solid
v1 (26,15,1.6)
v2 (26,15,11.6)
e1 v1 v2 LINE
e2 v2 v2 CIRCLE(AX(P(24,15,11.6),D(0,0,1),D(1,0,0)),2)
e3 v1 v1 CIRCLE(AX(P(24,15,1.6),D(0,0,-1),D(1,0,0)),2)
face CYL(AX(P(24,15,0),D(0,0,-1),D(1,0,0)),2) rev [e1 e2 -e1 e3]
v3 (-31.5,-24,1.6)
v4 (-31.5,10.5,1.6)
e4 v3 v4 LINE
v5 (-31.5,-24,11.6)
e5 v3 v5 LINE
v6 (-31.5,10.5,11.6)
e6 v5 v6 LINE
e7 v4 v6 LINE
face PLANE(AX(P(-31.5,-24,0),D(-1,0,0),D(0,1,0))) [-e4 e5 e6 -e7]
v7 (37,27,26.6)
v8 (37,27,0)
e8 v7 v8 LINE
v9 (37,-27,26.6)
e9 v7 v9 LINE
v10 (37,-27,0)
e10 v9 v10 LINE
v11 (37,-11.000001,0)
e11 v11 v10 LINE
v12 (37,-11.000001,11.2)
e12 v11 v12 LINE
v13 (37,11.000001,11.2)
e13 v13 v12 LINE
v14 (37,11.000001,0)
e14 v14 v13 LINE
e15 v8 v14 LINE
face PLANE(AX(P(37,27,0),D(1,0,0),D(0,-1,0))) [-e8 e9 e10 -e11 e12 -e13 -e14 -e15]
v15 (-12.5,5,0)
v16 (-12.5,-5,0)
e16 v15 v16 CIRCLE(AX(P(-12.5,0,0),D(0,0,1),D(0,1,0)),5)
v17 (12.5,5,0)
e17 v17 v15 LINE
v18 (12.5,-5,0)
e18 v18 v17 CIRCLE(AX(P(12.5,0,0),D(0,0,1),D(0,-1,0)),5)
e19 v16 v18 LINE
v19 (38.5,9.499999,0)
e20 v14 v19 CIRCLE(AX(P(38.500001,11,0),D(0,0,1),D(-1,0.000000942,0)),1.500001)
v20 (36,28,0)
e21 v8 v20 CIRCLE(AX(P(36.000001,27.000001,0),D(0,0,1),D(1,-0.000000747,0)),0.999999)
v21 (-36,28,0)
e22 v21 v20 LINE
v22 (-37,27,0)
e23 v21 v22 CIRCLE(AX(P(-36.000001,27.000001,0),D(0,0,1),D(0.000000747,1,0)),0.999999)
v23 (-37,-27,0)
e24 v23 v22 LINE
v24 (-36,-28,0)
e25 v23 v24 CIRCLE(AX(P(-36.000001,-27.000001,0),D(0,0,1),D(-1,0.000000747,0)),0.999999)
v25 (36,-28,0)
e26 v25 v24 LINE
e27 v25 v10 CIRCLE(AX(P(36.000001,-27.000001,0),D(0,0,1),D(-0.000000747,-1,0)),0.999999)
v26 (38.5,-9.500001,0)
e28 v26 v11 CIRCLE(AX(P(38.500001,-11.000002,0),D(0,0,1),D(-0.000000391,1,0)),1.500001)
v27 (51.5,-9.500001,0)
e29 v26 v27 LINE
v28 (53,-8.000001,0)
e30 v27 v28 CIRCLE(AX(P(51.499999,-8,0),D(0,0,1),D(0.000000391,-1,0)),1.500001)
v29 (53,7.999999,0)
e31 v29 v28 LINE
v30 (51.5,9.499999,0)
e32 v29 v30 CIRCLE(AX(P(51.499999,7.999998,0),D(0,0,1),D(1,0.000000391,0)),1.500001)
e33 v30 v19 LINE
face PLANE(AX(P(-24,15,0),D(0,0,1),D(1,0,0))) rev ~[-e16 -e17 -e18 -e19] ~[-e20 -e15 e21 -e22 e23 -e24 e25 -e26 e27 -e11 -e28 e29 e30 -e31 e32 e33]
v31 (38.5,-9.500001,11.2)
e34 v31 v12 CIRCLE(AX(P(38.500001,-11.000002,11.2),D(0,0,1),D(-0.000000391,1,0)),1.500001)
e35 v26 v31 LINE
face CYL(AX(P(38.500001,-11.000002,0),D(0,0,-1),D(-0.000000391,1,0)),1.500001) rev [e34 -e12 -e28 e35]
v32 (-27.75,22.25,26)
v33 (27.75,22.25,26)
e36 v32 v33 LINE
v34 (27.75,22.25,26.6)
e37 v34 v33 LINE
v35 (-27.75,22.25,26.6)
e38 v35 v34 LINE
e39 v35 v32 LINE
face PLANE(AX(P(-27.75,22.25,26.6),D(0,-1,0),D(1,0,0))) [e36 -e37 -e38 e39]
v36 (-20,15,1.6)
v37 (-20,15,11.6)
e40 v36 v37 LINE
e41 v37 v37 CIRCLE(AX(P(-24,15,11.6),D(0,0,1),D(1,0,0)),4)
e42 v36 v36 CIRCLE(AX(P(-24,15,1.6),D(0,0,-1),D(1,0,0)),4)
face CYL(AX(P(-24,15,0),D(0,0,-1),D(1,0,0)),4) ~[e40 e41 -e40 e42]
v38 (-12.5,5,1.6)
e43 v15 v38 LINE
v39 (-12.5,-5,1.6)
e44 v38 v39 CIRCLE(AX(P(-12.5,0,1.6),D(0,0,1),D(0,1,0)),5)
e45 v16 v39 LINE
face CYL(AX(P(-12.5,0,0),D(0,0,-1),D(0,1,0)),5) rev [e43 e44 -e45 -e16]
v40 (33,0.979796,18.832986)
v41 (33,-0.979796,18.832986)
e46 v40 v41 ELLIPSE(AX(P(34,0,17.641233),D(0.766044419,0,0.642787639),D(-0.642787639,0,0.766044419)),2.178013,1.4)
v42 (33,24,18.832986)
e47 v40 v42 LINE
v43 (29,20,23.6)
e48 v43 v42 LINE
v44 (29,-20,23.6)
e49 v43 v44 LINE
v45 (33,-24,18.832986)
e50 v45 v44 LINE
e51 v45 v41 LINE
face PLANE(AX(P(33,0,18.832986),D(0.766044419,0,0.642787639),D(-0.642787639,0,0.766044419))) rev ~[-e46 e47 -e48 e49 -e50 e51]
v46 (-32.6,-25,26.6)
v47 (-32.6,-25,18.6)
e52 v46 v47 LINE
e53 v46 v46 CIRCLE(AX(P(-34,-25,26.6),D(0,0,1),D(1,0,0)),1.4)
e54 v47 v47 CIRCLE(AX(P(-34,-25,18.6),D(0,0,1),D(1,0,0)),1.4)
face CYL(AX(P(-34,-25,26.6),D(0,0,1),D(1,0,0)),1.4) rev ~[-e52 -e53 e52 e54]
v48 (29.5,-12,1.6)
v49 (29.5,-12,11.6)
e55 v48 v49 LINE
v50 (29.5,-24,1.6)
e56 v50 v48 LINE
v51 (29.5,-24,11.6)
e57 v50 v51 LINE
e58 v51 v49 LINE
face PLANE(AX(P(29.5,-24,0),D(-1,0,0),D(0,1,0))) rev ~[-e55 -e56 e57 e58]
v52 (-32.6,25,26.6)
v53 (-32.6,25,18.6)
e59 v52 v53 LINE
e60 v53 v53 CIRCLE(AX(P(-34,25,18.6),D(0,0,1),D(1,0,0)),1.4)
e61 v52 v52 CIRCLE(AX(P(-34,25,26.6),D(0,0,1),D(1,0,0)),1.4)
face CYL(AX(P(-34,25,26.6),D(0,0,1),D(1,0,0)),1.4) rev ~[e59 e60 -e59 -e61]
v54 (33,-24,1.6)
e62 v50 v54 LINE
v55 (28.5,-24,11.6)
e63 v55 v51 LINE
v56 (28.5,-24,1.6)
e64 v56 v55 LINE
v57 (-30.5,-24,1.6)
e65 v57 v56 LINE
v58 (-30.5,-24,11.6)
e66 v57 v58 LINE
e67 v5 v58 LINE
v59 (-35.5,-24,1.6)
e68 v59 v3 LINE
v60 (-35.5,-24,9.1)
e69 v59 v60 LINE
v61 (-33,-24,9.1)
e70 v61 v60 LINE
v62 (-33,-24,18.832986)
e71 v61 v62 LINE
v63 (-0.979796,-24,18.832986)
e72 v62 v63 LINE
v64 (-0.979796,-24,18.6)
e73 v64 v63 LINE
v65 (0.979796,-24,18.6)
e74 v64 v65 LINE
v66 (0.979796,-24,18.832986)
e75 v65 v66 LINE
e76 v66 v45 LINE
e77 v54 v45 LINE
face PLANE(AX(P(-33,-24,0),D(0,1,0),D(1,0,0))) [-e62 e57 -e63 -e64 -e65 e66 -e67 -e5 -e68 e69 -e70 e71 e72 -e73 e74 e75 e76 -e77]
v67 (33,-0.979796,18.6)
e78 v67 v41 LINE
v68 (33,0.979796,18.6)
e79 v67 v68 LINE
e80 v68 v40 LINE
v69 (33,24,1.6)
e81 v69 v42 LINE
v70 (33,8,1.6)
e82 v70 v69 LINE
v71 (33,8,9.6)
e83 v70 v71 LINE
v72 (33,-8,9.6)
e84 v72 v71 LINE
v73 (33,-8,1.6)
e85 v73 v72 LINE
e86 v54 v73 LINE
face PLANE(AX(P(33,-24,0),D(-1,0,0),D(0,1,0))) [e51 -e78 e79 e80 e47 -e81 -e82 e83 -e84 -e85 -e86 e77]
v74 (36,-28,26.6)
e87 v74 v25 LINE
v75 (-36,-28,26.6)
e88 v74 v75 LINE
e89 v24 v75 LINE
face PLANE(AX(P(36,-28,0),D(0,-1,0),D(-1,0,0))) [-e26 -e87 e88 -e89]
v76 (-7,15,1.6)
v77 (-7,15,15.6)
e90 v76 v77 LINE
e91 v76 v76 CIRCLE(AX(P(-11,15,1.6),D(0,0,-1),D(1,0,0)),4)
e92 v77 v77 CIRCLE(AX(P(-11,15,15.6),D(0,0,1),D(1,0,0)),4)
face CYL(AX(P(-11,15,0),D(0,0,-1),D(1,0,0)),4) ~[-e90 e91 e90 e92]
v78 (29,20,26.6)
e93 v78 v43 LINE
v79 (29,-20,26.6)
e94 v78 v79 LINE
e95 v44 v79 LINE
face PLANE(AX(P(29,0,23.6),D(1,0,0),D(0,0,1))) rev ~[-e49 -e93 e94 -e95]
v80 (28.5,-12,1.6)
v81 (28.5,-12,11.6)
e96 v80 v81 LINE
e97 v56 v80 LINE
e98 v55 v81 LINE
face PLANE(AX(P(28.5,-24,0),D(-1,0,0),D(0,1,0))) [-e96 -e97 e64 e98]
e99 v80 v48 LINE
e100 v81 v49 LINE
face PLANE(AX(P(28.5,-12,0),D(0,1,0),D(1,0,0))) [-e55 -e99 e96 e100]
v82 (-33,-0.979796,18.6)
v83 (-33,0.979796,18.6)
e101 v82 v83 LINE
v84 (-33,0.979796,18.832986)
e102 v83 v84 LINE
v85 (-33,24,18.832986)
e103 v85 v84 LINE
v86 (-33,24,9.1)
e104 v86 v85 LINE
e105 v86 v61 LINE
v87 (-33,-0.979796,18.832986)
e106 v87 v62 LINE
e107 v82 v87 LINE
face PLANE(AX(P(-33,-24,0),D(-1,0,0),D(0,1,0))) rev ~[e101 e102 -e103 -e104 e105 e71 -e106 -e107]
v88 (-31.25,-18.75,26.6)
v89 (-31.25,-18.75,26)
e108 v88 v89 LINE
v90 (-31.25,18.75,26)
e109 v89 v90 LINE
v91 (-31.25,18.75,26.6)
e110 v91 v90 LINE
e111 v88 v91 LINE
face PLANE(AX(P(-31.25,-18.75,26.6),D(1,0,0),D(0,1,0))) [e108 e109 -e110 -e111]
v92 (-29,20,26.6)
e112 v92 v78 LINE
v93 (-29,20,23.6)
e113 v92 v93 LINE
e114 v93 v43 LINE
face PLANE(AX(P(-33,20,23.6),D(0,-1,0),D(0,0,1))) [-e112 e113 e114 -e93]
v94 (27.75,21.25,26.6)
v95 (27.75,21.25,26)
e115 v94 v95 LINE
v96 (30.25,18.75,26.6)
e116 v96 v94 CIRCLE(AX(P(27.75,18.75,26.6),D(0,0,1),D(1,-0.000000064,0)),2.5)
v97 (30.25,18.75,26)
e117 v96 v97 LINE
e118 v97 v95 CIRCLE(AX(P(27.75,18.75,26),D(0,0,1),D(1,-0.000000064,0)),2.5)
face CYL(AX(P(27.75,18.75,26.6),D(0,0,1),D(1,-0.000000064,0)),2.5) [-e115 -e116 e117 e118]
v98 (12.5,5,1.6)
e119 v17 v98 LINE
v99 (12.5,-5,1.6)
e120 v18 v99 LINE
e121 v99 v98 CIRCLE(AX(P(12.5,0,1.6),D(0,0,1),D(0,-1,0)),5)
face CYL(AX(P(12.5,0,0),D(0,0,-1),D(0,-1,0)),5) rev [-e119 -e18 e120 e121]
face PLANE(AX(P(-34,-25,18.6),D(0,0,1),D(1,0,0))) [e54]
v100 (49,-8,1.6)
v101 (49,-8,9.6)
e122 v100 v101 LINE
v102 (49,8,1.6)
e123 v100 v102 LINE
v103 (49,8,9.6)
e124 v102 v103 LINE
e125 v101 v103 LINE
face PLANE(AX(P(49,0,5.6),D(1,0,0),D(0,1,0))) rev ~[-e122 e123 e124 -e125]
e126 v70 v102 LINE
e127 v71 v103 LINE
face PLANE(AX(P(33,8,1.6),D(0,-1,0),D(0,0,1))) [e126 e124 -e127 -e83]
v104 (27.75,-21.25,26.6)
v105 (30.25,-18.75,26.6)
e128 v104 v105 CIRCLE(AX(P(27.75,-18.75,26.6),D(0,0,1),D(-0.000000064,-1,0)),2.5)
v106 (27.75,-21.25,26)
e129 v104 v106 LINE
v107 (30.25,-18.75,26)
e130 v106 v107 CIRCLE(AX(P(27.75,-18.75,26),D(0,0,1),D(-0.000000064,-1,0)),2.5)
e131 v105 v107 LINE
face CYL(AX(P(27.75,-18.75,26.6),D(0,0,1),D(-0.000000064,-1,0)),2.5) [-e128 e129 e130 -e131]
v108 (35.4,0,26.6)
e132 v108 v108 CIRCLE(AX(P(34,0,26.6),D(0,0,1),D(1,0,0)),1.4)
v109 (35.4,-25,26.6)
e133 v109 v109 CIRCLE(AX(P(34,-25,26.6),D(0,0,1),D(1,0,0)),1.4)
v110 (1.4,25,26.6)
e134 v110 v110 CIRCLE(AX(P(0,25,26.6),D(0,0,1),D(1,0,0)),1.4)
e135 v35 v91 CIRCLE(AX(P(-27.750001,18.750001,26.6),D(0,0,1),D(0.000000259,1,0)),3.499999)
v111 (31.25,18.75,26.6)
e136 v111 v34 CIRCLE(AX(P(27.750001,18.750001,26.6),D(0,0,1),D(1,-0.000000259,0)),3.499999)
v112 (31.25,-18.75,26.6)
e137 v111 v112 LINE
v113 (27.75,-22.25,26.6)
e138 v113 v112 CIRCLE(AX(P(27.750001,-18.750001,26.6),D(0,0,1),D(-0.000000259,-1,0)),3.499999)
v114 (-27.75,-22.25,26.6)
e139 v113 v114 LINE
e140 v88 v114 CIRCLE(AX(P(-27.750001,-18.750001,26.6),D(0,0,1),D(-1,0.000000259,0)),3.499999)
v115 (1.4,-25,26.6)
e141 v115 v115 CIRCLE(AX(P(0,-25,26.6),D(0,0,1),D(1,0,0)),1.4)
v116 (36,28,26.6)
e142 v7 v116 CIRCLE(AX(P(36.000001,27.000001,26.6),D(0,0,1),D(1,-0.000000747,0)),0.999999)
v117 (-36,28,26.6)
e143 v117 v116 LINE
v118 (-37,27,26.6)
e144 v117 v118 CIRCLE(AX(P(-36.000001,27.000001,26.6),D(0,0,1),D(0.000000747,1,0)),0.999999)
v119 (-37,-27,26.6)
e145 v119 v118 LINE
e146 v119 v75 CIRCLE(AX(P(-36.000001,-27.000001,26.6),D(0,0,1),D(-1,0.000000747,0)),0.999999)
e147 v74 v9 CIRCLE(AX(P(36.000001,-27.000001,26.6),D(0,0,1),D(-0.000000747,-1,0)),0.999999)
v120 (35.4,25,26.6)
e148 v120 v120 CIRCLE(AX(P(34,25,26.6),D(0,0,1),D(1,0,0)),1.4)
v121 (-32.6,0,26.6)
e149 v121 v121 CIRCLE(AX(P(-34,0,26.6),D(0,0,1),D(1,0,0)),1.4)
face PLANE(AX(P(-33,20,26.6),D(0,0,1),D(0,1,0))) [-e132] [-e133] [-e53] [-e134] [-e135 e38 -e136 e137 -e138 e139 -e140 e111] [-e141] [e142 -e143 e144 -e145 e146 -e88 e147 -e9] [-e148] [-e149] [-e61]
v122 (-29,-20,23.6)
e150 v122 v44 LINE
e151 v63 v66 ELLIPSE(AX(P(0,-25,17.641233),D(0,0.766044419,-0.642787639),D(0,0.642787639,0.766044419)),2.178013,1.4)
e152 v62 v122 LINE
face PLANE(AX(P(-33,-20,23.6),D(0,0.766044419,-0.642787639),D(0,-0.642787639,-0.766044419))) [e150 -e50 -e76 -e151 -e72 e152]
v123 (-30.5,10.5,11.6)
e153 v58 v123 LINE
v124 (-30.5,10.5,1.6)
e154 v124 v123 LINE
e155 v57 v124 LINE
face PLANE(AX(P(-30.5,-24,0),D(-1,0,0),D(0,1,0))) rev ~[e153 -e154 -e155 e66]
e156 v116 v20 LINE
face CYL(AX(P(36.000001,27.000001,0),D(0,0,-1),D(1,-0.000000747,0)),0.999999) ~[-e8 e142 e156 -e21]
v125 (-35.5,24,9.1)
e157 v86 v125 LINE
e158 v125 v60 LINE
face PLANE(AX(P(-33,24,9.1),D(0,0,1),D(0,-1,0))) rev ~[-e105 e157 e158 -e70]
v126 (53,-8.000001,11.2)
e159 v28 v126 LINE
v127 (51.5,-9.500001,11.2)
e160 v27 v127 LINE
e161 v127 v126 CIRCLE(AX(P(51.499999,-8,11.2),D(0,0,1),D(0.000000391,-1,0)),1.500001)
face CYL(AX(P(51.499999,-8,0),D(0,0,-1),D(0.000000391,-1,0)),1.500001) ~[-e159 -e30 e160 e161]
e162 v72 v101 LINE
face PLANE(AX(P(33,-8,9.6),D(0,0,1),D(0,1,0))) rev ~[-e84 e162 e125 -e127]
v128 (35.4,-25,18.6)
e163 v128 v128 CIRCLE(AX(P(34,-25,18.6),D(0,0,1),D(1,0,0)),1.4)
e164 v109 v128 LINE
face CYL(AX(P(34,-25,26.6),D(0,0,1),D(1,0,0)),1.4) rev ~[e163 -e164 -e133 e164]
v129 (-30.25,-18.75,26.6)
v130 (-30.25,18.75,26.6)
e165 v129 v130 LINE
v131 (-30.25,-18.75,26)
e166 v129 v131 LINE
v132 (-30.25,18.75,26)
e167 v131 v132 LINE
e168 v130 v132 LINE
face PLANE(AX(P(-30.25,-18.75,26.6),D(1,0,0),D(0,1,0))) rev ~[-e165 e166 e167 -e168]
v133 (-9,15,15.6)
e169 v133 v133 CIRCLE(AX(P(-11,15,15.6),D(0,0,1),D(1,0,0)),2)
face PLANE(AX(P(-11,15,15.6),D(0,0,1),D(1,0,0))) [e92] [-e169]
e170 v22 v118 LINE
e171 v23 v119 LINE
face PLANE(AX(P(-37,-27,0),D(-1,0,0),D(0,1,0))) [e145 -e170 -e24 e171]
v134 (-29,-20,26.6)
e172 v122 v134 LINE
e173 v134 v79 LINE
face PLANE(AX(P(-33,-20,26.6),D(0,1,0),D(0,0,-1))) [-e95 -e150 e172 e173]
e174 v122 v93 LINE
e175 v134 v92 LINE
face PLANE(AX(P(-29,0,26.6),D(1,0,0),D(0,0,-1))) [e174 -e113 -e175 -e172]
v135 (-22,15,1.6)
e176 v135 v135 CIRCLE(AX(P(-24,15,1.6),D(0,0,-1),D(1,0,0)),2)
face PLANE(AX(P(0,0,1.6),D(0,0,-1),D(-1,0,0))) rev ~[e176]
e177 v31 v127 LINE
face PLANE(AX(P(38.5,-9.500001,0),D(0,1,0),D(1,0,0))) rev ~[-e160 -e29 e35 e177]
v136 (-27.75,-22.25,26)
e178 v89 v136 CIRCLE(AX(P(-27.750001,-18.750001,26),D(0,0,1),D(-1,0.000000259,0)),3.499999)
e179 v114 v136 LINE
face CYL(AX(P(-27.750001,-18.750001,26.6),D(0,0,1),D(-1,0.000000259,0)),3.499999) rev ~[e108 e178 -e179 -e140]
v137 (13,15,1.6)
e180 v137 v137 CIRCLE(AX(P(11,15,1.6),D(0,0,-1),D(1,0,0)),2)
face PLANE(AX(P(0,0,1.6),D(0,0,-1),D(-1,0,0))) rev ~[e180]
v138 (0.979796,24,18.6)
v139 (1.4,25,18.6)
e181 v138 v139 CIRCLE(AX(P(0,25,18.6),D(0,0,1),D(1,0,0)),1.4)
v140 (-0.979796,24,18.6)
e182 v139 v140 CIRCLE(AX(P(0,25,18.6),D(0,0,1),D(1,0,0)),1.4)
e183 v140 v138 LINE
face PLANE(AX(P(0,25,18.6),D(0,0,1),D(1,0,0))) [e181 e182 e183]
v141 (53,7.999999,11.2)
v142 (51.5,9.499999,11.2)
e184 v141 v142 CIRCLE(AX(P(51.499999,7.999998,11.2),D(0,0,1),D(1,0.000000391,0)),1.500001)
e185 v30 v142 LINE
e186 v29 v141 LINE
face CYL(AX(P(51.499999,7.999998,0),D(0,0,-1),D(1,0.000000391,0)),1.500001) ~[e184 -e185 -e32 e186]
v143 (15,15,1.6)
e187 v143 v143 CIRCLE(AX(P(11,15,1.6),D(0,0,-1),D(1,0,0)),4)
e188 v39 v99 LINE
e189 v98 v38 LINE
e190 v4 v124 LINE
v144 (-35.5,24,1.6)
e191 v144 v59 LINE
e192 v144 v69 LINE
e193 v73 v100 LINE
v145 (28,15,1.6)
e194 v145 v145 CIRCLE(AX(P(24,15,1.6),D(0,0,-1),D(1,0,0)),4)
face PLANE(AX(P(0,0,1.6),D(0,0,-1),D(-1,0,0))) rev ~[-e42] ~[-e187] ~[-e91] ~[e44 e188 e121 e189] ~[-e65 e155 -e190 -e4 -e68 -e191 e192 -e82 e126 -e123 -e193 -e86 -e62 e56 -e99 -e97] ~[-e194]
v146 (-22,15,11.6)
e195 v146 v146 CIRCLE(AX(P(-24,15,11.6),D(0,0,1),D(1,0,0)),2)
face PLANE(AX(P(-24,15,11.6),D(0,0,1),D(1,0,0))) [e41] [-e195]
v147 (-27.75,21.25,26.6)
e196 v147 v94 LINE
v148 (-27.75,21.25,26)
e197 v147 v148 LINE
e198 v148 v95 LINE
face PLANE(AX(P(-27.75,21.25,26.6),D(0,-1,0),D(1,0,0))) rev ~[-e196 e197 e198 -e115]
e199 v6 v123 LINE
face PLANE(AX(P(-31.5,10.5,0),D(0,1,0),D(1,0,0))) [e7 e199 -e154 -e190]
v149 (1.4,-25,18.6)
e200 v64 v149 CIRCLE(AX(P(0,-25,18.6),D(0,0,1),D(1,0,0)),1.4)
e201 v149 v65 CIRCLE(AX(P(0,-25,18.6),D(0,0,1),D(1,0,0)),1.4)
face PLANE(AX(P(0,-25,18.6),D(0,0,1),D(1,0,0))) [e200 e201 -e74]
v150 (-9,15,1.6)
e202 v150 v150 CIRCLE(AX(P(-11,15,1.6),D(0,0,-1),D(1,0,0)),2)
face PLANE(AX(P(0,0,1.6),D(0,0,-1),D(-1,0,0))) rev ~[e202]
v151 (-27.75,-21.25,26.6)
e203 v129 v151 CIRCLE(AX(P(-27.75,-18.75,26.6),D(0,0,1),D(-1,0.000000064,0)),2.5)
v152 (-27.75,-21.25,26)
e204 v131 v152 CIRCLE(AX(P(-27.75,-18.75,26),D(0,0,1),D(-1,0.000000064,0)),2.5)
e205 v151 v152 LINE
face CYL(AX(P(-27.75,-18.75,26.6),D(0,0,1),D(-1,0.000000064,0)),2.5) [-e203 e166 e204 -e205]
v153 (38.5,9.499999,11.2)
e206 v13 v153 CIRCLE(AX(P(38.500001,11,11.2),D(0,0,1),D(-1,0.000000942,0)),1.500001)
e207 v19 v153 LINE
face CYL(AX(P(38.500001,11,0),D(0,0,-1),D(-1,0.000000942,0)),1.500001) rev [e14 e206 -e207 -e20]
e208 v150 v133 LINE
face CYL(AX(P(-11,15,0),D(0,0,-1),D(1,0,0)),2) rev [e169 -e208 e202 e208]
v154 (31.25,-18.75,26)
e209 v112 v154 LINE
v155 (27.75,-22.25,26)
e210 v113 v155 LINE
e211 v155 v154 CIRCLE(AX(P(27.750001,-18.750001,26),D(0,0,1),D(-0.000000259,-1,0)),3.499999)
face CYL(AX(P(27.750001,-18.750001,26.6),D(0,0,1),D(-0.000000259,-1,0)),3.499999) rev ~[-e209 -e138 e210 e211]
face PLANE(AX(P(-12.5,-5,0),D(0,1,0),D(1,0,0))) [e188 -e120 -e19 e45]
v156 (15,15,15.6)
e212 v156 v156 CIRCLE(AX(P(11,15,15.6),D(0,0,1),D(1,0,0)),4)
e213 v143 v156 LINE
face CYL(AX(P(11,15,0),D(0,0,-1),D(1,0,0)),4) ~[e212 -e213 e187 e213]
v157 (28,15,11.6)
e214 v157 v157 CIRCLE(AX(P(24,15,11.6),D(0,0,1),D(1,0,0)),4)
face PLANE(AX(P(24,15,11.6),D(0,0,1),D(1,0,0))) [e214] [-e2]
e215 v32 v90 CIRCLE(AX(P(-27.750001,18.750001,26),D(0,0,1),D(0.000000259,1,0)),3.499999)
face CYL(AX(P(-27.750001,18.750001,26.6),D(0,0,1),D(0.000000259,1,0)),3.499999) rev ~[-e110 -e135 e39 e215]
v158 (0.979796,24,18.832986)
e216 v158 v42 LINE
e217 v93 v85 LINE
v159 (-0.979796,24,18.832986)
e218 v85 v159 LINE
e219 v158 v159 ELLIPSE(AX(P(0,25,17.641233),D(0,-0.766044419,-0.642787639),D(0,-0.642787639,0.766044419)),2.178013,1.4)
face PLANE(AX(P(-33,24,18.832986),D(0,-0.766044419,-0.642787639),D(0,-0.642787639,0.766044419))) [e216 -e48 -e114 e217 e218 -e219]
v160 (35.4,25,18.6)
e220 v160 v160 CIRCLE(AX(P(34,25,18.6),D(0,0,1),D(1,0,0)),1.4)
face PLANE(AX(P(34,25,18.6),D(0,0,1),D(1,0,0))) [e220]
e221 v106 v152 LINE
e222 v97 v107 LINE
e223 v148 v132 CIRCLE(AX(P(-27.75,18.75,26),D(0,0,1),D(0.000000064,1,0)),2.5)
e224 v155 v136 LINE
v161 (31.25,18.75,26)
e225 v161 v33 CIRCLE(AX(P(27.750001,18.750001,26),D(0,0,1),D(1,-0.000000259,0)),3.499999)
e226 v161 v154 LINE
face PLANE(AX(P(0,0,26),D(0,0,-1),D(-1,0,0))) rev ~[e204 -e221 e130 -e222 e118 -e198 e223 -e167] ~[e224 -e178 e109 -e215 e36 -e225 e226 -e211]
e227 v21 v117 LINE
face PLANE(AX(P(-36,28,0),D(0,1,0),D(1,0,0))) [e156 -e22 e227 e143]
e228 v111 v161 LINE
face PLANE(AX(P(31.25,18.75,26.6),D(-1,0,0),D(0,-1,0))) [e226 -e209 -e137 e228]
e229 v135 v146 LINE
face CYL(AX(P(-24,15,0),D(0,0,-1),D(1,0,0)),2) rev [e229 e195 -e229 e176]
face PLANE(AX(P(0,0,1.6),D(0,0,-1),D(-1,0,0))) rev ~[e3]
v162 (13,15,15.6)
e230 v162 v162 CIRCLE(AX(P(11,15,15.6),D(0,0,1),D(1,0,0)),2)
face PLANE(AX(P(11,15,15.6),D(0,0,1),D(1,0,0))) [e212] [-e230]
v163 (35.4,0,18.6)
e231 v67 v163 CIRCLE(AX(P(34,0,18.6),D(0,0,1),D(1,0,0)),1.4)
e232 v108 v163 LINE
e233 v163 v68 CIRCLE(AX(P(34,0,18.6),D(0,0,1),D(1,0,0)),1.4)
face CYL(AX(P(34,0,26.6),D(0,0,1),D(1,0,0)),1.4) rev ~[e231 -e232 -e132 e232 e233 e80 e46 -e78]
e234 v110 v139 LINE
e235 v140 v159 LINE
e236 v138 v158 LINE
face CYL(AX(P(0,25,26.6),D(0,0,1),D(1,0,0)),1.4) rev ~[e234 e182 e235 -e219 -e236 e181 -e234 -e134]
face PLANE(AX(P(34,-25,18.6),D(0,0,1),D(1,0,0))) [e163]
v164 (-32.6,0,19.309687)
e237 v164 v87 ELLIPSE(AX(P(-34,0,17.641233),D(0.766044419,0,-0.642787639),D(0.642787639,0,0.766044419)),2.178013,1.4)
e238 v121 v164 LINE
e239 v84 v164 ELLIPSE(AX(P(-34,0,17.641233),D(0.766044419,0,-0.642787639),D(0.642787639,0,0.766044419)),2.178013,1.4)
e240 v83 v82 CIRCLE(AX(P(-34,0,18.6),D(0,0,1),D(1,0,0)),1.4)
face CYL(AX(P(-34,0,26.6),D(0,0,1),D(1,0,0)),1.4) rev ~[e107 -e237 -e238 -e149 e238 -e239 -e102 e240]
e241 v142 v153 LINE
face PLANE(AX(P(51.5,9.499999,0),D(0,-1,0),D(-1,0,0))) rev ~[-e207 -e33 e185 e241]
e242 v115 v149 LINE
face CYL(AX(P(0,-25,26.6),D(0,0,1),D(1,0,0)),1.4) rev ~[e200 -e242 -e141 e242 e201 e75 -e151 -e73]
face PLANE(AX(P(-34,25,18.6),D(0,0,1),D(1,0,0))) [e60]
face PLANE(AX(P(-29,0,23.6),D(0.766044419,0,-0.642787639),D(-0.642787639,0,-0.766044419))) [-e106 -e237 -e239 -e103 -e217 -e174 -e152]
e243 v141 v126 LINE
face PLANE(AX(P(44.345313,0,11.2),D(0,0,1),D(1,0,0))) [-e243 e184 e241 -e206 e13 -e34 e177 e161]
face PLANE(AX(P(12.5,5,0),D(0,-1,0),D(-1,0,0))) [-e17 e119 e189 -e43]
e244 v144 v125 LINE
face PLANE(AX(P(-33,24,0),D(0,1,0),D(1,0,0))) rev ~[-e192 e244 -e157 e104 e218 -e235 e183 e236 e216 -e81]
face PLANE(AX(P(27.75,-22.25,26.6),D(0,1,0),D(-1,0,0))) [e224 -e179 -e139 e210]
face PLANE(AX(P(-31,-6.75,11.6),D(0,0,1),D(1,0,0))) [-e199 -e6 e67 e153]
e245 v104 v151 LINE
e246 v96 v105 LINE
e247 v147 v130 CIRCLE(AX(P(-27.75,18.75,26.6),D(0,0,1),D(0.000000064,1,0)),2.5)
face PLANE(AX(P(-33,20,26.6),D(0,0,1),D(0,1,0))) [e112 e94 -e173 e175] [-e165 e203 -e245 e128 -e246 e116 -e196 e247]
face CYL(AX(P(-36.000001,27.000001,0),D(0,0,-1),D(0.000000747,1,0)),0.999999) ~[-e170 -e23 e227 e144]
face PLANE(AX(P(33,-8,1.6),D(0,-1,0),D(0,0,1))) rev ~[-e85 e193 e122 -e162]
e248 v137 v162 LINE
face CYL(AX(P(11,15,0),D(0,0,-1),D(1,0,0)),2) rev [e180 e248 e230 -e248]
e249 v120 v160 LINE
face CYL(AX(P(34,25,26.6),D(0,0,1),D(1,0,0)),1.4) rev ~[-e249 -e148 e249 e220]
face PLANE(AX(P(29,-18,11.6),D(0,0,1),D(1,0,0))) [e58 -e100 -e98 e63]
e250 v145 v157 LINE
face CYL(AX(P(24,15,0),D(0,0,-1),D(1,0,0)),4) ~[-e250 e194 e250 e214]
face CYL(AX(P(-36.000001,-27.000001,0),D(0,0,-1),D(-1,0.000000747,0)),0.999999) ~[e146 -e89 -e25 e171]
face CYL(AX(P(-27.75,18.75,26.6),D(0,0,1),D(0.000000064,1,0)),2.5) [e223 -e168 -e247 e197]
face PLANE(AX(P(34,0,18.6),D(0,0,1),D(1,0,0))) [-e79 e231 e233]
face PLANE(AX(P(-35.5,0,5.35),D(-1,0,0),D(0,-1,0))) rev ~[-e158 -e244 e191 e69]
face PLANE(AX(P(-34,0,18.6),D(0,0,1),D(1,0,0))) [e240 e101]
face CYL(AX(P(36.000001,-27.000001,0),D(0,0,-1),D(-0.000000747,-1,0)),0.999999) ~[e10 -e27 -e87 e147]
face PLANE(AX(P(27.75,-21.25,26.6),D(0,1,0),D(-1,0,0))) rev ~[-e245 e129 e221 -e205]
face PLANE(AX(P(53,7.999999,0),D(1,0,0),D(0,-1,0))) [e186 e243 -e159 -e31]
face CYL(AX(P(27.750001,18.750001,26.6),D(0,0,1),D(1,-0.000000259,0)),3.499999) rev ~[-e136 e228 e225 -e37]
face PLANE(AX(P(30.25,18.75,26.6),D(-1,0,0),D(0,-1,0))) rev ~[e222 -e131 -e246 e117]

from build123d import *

# Parameters (mm, degrees)
PAD_DEPTH       = 1.6
SKETCH001_W     = 66
SKETCH001_H     = 48
PAD001_DEPTH    = 26.6
PAD002_DEPTH    = 11.2
SKETCH003_W     = 16
SKETCH003_H     = 8
POCKET_DEPTH    = 16
SKETCH005_R     = 4
SKETCH005_R_2   = 2
PAD003_DEPTH    = 15.6
SKETCH006_W     = 1
SKETCH006_H     = 34.5
SKETCH006_H_2   = 12
PAD004_DEPTH    = 11.6
SKETCH007_R     = 4
SKETCH007_R_2   = 2
PAD005_DEPTH    = 11.6
PAD006_DEPTH    = 24
PAD007_DEPTH    = 66
POCKET002_DEPTH = 0.6
SKETCH018_W     = 48
SKETCH018_H     = 7.5
POCKET003_DEPTH = 2.5
SKETCH008_R     = 1.4
POCKET004_DEPTH = 8


with BuildPart() as part:
    # Sketch → Pad (new body)
    with BuildSketch(Plane.XY):
        with BuildLine():
            Line((-36, 28), (36, 28))
            ThreePointArc((37, 27), (36.707107, 27.707107), (36, 28))
            Line((37, 27), (37, -27))
            ThreePointArc((36, -28), (36.707107, -27.707107), (37, -27))
            Line((36, -28), (-36, -28))
            ThreePointArc((-37, -27), (-36.707107, -27.707107), (-36, -28))
            Line((-37, -27), (-37, 27))
            ThreePointArc((-36, 28), (-36.707107, 27.707107), (-37, 27))
        make_face()
        with BuildLine():
            ThreePointArc((-12.5, 5), (-17.5, 0), (-12.5, -5))
            Line((-12.5, -5), (12.5, -5))
            ThreePointArc((12.5, -5), (17.5, 0), (12.5, 5))
            Line((12.5, 5), (-12.5, 5))
        make_face(mode=Mode.SUBTRACT)
    extrude(amount=PAD_DEPTH)

    # Sketch001 → Pad001 (join)
    with BuildSketch(Plane.XY):
        with BuildLine():
            Line((-36, 28), (36, 28))
            ThreePointArc((37, 27), (36.707107, 27.707107), (36, 28))
            Line((37, 27), (37, -27))
            ThreePointArc((36, -28), (36.707107, -27.707107), (37, -27))
            Line((36, -28), (-36, -28))
            ThreePointArc((-37, -27), (-36.707107, -27.707107), (-36, -28))
            Line((-37, -27), (-37, 27))
            ThreePointArc((-36, 28), (-36.707107, 27.707107), (-37, 27))
        make_face()
        Rectangle(SKETCH001_W, SKETCH001_H, mode=Mode.SUBTRACT)
    extrude(amount=PAD001_DEPTH)

    # Sketch002 → Pad002 (join)
    with BuildSketch(Plane.XY):
        with BuildLine():
            Line((51.5, 9.499999), (38.5, 9.499999))
            ThreePointArc((37, 11.000001), (37.439339, 9.93934), (38.5, 9.499999))
            Line((37, 11.000001), (37, 0))
            Line((37, 0), (37, -11.000001))
            ThreePointArc((38.5, -9.500001), (37.43934, -9.939341), (37, -11.000001))
            Line((38.5, -9.500001), (51.5, -9.500001))
            ThreePointArc((51.5, -9.500001), (52.56066, -9.060661), (53, -8.000001))
            Line((53, 7.999999), (53, -8.000001))
            ThreePointArc((53, 7.999999), (52.56066, 9.060659), (51.5, 9.499999))
        make_face()
    extrude(amount=PAD002_DEPTH)

    # Sketch003 (on DatumPlane) → Pocket (cut)
    with BuildSketch(Plane.YZ.offset(33)):
        with Locations((0, 5.6)):
            Rectangle(SKETCH003_W, SKETCH003_H)
    extrude(amount=POCKET_DEPTH, mode=Mode.SUBTRACT)

    # Sketch005 → Pad003 (join)
    with BuildSketch(Plane.XY):
        with Locations((-11, 15)):
            Circle(SKETCH005_R)
        with Locations((-11, 15)):
            Circle(SKETCH005_R_2, mode=Mode.SUBTRACT)
        with Locations((11, 15)):
            Circle(SKETCH005_R)
        with Locations((11, 15)):
            Circle(SKETCH005_R_2, mode=Mode.SUBTRACT)
    extrude(amount=PAD003_DEPTH)

    # Sketch006 → Pad004 (join)
    with BuildSketch(Plane.XY):
        with Locations((-31, -6.75)):
            Rectangle(SKETCH006_W, SKETCH006_H)
        with Locations((29, -18)):
            Rectangle(SKETCH006_W, SKETCH006_H_2)
    extrude(amount=PAD004_DEPTH)

    # Sketch007 → Pad005 (join)
    with BuildSketch(Plane.XY):
        with Locations((-24, 15)):
            Circle(SKETCH007_R)
        with Locations((-24, 15)):
            Circle(SKETCH007_R_2, mode=Mode.SUBTRACT)
        with Locations((24, 15)):
            Circle(SKETCH007_R)
        with Locations((24, 15)):
            Circle(SKETCH007_R_2, mode=Mode.SUBTRACT)
    extrude(amount=PAD005_DEPTH)

    # Sketch009 → Pad006 (join, symmetric)
    with BuildSketch(Plane.XZ):
        Polygon((-33, 26.6), (-29, 26.6), (-29, 23.6), (-33, 18.832986), align=None)
        Polygon((29, 26.6), (33, 26.6), (33, 18.832986), (29, 23.6), align=None)
    extrude(amount=PAD006_DEPTH, both=True)

    # Sketch010 (on DatumPlane) → Pad007 (join)
    with BuildSketch(Plane(origin=(-33, 0, 0), x_dir=(0, -1, 0), z_dir=(-1, 0, 0))):
        Polygon((-24, 18.832986), (-20, 23.6), (-20, 26.6), (-24, 26.6), align=None)
        Polygon((24, 26.6), (20, 26.6), (20, 23.6), (24, 18.832986), align=None)
    extrude(amount=-PAD007_DEPTH)

    # Sketch011 (on DatumPlane) → Pocket002 (cut)
    with BuildSketch(Plane.XY.offset(26.6)):
        with BuildLine():
            Line((-27.75, 22.25), (27.75, 22.25))
            ThreePointArc((31.25, 18.75), (30.224874, 21.224874), (27.75, 22.25))
            Line((31.25, 18.75), (31.25, -18.75))
            ThreePointArc((27.75, -22.25), (30.224874, -21.224874), (31.25, -18.75))
            Line((27.75, -22.25), (-27.75, -22.25))
            ThreePointArc((-31.25, -18.75), (-30.224874, -21.224874), (-27.75, -22.25))
            Line((-31.25, -18.75), (-31.25, 18.75))
            ThreePointArc((-27.75, 22.25), (-30.224874, 21.224874), (-31.25, 18.75))
        make_face()
        with BuildLine():
            Line((-27.75, 21.25), (27.75, 21.25))
            ThreePointArc((30.25, 18.75), (29.517767, 20.517767), (27.75, 21.25))
            Line((30.25, 18.75), (30.25, -18.75))
            ThreePointArc((27.75, -21.25), (29.517767, -20.517767), (30.25, -18.75))
            Line((27.75, -21.25), (-27.75, -21.25))
            ThreePointArc((-30.25, -18.75), (-29.517767, -20.517767), (-27.75, -21.25))
            Line((-30.25, -18.75), (-30.25, 18.75))
            ThreePointArc((-27.75, 21.25), (-29.517767, 20.517767), (-30.25, 18.75))
        make_face(mode=Mode.SUBTRACT)
    extrude(amount=-POCKET002_DEPTH, mode=Mode.SUBTRACT)

    # Sketch018 (on DatumPlane) → Pocket003 (cut)
    with BuildSketch(Plane(origin=(-33, 0, 0), x_dir=(0, -1, 0), z_dir=(-1, 0, 0))):
        with Locations((0, 5.35)):
            Rectangle(SKETCH018_W, SKETCH018_H)
    extrude(amount=POCKET003_DEPTH, mode=Mode.SUBTRACT)

    # Sketch008 (on DatumPlane) → Pocket004 (cut)
    with BuildSketch(Plane.XY.offset(26.6)):
        with Locations((-34, 25)):
            Circle(SKETCH008_R)
        with Locations((0, 25)):
            Circle(SKETCH008_R)
        with Locations((34, 25)):
            Circle(SKETCH008_R)
        with Locations((-34, -25)):
            Circle(SKETCH008_R)
        with Locations((0, -25)):
            Circle(SKETCH008_R)
        with Locations((34, -25)):
            Circle(SKETCH008_R)
        with Locations((-34, 0)):
            Circle(SKETCH008_R)
        with Locations((34, 0)):
            Circle(SKETCH008_R)
    extrude(amount=-POCKET004_DEPTH, mode=Mode.SUBTRACT)


solid = part.part
